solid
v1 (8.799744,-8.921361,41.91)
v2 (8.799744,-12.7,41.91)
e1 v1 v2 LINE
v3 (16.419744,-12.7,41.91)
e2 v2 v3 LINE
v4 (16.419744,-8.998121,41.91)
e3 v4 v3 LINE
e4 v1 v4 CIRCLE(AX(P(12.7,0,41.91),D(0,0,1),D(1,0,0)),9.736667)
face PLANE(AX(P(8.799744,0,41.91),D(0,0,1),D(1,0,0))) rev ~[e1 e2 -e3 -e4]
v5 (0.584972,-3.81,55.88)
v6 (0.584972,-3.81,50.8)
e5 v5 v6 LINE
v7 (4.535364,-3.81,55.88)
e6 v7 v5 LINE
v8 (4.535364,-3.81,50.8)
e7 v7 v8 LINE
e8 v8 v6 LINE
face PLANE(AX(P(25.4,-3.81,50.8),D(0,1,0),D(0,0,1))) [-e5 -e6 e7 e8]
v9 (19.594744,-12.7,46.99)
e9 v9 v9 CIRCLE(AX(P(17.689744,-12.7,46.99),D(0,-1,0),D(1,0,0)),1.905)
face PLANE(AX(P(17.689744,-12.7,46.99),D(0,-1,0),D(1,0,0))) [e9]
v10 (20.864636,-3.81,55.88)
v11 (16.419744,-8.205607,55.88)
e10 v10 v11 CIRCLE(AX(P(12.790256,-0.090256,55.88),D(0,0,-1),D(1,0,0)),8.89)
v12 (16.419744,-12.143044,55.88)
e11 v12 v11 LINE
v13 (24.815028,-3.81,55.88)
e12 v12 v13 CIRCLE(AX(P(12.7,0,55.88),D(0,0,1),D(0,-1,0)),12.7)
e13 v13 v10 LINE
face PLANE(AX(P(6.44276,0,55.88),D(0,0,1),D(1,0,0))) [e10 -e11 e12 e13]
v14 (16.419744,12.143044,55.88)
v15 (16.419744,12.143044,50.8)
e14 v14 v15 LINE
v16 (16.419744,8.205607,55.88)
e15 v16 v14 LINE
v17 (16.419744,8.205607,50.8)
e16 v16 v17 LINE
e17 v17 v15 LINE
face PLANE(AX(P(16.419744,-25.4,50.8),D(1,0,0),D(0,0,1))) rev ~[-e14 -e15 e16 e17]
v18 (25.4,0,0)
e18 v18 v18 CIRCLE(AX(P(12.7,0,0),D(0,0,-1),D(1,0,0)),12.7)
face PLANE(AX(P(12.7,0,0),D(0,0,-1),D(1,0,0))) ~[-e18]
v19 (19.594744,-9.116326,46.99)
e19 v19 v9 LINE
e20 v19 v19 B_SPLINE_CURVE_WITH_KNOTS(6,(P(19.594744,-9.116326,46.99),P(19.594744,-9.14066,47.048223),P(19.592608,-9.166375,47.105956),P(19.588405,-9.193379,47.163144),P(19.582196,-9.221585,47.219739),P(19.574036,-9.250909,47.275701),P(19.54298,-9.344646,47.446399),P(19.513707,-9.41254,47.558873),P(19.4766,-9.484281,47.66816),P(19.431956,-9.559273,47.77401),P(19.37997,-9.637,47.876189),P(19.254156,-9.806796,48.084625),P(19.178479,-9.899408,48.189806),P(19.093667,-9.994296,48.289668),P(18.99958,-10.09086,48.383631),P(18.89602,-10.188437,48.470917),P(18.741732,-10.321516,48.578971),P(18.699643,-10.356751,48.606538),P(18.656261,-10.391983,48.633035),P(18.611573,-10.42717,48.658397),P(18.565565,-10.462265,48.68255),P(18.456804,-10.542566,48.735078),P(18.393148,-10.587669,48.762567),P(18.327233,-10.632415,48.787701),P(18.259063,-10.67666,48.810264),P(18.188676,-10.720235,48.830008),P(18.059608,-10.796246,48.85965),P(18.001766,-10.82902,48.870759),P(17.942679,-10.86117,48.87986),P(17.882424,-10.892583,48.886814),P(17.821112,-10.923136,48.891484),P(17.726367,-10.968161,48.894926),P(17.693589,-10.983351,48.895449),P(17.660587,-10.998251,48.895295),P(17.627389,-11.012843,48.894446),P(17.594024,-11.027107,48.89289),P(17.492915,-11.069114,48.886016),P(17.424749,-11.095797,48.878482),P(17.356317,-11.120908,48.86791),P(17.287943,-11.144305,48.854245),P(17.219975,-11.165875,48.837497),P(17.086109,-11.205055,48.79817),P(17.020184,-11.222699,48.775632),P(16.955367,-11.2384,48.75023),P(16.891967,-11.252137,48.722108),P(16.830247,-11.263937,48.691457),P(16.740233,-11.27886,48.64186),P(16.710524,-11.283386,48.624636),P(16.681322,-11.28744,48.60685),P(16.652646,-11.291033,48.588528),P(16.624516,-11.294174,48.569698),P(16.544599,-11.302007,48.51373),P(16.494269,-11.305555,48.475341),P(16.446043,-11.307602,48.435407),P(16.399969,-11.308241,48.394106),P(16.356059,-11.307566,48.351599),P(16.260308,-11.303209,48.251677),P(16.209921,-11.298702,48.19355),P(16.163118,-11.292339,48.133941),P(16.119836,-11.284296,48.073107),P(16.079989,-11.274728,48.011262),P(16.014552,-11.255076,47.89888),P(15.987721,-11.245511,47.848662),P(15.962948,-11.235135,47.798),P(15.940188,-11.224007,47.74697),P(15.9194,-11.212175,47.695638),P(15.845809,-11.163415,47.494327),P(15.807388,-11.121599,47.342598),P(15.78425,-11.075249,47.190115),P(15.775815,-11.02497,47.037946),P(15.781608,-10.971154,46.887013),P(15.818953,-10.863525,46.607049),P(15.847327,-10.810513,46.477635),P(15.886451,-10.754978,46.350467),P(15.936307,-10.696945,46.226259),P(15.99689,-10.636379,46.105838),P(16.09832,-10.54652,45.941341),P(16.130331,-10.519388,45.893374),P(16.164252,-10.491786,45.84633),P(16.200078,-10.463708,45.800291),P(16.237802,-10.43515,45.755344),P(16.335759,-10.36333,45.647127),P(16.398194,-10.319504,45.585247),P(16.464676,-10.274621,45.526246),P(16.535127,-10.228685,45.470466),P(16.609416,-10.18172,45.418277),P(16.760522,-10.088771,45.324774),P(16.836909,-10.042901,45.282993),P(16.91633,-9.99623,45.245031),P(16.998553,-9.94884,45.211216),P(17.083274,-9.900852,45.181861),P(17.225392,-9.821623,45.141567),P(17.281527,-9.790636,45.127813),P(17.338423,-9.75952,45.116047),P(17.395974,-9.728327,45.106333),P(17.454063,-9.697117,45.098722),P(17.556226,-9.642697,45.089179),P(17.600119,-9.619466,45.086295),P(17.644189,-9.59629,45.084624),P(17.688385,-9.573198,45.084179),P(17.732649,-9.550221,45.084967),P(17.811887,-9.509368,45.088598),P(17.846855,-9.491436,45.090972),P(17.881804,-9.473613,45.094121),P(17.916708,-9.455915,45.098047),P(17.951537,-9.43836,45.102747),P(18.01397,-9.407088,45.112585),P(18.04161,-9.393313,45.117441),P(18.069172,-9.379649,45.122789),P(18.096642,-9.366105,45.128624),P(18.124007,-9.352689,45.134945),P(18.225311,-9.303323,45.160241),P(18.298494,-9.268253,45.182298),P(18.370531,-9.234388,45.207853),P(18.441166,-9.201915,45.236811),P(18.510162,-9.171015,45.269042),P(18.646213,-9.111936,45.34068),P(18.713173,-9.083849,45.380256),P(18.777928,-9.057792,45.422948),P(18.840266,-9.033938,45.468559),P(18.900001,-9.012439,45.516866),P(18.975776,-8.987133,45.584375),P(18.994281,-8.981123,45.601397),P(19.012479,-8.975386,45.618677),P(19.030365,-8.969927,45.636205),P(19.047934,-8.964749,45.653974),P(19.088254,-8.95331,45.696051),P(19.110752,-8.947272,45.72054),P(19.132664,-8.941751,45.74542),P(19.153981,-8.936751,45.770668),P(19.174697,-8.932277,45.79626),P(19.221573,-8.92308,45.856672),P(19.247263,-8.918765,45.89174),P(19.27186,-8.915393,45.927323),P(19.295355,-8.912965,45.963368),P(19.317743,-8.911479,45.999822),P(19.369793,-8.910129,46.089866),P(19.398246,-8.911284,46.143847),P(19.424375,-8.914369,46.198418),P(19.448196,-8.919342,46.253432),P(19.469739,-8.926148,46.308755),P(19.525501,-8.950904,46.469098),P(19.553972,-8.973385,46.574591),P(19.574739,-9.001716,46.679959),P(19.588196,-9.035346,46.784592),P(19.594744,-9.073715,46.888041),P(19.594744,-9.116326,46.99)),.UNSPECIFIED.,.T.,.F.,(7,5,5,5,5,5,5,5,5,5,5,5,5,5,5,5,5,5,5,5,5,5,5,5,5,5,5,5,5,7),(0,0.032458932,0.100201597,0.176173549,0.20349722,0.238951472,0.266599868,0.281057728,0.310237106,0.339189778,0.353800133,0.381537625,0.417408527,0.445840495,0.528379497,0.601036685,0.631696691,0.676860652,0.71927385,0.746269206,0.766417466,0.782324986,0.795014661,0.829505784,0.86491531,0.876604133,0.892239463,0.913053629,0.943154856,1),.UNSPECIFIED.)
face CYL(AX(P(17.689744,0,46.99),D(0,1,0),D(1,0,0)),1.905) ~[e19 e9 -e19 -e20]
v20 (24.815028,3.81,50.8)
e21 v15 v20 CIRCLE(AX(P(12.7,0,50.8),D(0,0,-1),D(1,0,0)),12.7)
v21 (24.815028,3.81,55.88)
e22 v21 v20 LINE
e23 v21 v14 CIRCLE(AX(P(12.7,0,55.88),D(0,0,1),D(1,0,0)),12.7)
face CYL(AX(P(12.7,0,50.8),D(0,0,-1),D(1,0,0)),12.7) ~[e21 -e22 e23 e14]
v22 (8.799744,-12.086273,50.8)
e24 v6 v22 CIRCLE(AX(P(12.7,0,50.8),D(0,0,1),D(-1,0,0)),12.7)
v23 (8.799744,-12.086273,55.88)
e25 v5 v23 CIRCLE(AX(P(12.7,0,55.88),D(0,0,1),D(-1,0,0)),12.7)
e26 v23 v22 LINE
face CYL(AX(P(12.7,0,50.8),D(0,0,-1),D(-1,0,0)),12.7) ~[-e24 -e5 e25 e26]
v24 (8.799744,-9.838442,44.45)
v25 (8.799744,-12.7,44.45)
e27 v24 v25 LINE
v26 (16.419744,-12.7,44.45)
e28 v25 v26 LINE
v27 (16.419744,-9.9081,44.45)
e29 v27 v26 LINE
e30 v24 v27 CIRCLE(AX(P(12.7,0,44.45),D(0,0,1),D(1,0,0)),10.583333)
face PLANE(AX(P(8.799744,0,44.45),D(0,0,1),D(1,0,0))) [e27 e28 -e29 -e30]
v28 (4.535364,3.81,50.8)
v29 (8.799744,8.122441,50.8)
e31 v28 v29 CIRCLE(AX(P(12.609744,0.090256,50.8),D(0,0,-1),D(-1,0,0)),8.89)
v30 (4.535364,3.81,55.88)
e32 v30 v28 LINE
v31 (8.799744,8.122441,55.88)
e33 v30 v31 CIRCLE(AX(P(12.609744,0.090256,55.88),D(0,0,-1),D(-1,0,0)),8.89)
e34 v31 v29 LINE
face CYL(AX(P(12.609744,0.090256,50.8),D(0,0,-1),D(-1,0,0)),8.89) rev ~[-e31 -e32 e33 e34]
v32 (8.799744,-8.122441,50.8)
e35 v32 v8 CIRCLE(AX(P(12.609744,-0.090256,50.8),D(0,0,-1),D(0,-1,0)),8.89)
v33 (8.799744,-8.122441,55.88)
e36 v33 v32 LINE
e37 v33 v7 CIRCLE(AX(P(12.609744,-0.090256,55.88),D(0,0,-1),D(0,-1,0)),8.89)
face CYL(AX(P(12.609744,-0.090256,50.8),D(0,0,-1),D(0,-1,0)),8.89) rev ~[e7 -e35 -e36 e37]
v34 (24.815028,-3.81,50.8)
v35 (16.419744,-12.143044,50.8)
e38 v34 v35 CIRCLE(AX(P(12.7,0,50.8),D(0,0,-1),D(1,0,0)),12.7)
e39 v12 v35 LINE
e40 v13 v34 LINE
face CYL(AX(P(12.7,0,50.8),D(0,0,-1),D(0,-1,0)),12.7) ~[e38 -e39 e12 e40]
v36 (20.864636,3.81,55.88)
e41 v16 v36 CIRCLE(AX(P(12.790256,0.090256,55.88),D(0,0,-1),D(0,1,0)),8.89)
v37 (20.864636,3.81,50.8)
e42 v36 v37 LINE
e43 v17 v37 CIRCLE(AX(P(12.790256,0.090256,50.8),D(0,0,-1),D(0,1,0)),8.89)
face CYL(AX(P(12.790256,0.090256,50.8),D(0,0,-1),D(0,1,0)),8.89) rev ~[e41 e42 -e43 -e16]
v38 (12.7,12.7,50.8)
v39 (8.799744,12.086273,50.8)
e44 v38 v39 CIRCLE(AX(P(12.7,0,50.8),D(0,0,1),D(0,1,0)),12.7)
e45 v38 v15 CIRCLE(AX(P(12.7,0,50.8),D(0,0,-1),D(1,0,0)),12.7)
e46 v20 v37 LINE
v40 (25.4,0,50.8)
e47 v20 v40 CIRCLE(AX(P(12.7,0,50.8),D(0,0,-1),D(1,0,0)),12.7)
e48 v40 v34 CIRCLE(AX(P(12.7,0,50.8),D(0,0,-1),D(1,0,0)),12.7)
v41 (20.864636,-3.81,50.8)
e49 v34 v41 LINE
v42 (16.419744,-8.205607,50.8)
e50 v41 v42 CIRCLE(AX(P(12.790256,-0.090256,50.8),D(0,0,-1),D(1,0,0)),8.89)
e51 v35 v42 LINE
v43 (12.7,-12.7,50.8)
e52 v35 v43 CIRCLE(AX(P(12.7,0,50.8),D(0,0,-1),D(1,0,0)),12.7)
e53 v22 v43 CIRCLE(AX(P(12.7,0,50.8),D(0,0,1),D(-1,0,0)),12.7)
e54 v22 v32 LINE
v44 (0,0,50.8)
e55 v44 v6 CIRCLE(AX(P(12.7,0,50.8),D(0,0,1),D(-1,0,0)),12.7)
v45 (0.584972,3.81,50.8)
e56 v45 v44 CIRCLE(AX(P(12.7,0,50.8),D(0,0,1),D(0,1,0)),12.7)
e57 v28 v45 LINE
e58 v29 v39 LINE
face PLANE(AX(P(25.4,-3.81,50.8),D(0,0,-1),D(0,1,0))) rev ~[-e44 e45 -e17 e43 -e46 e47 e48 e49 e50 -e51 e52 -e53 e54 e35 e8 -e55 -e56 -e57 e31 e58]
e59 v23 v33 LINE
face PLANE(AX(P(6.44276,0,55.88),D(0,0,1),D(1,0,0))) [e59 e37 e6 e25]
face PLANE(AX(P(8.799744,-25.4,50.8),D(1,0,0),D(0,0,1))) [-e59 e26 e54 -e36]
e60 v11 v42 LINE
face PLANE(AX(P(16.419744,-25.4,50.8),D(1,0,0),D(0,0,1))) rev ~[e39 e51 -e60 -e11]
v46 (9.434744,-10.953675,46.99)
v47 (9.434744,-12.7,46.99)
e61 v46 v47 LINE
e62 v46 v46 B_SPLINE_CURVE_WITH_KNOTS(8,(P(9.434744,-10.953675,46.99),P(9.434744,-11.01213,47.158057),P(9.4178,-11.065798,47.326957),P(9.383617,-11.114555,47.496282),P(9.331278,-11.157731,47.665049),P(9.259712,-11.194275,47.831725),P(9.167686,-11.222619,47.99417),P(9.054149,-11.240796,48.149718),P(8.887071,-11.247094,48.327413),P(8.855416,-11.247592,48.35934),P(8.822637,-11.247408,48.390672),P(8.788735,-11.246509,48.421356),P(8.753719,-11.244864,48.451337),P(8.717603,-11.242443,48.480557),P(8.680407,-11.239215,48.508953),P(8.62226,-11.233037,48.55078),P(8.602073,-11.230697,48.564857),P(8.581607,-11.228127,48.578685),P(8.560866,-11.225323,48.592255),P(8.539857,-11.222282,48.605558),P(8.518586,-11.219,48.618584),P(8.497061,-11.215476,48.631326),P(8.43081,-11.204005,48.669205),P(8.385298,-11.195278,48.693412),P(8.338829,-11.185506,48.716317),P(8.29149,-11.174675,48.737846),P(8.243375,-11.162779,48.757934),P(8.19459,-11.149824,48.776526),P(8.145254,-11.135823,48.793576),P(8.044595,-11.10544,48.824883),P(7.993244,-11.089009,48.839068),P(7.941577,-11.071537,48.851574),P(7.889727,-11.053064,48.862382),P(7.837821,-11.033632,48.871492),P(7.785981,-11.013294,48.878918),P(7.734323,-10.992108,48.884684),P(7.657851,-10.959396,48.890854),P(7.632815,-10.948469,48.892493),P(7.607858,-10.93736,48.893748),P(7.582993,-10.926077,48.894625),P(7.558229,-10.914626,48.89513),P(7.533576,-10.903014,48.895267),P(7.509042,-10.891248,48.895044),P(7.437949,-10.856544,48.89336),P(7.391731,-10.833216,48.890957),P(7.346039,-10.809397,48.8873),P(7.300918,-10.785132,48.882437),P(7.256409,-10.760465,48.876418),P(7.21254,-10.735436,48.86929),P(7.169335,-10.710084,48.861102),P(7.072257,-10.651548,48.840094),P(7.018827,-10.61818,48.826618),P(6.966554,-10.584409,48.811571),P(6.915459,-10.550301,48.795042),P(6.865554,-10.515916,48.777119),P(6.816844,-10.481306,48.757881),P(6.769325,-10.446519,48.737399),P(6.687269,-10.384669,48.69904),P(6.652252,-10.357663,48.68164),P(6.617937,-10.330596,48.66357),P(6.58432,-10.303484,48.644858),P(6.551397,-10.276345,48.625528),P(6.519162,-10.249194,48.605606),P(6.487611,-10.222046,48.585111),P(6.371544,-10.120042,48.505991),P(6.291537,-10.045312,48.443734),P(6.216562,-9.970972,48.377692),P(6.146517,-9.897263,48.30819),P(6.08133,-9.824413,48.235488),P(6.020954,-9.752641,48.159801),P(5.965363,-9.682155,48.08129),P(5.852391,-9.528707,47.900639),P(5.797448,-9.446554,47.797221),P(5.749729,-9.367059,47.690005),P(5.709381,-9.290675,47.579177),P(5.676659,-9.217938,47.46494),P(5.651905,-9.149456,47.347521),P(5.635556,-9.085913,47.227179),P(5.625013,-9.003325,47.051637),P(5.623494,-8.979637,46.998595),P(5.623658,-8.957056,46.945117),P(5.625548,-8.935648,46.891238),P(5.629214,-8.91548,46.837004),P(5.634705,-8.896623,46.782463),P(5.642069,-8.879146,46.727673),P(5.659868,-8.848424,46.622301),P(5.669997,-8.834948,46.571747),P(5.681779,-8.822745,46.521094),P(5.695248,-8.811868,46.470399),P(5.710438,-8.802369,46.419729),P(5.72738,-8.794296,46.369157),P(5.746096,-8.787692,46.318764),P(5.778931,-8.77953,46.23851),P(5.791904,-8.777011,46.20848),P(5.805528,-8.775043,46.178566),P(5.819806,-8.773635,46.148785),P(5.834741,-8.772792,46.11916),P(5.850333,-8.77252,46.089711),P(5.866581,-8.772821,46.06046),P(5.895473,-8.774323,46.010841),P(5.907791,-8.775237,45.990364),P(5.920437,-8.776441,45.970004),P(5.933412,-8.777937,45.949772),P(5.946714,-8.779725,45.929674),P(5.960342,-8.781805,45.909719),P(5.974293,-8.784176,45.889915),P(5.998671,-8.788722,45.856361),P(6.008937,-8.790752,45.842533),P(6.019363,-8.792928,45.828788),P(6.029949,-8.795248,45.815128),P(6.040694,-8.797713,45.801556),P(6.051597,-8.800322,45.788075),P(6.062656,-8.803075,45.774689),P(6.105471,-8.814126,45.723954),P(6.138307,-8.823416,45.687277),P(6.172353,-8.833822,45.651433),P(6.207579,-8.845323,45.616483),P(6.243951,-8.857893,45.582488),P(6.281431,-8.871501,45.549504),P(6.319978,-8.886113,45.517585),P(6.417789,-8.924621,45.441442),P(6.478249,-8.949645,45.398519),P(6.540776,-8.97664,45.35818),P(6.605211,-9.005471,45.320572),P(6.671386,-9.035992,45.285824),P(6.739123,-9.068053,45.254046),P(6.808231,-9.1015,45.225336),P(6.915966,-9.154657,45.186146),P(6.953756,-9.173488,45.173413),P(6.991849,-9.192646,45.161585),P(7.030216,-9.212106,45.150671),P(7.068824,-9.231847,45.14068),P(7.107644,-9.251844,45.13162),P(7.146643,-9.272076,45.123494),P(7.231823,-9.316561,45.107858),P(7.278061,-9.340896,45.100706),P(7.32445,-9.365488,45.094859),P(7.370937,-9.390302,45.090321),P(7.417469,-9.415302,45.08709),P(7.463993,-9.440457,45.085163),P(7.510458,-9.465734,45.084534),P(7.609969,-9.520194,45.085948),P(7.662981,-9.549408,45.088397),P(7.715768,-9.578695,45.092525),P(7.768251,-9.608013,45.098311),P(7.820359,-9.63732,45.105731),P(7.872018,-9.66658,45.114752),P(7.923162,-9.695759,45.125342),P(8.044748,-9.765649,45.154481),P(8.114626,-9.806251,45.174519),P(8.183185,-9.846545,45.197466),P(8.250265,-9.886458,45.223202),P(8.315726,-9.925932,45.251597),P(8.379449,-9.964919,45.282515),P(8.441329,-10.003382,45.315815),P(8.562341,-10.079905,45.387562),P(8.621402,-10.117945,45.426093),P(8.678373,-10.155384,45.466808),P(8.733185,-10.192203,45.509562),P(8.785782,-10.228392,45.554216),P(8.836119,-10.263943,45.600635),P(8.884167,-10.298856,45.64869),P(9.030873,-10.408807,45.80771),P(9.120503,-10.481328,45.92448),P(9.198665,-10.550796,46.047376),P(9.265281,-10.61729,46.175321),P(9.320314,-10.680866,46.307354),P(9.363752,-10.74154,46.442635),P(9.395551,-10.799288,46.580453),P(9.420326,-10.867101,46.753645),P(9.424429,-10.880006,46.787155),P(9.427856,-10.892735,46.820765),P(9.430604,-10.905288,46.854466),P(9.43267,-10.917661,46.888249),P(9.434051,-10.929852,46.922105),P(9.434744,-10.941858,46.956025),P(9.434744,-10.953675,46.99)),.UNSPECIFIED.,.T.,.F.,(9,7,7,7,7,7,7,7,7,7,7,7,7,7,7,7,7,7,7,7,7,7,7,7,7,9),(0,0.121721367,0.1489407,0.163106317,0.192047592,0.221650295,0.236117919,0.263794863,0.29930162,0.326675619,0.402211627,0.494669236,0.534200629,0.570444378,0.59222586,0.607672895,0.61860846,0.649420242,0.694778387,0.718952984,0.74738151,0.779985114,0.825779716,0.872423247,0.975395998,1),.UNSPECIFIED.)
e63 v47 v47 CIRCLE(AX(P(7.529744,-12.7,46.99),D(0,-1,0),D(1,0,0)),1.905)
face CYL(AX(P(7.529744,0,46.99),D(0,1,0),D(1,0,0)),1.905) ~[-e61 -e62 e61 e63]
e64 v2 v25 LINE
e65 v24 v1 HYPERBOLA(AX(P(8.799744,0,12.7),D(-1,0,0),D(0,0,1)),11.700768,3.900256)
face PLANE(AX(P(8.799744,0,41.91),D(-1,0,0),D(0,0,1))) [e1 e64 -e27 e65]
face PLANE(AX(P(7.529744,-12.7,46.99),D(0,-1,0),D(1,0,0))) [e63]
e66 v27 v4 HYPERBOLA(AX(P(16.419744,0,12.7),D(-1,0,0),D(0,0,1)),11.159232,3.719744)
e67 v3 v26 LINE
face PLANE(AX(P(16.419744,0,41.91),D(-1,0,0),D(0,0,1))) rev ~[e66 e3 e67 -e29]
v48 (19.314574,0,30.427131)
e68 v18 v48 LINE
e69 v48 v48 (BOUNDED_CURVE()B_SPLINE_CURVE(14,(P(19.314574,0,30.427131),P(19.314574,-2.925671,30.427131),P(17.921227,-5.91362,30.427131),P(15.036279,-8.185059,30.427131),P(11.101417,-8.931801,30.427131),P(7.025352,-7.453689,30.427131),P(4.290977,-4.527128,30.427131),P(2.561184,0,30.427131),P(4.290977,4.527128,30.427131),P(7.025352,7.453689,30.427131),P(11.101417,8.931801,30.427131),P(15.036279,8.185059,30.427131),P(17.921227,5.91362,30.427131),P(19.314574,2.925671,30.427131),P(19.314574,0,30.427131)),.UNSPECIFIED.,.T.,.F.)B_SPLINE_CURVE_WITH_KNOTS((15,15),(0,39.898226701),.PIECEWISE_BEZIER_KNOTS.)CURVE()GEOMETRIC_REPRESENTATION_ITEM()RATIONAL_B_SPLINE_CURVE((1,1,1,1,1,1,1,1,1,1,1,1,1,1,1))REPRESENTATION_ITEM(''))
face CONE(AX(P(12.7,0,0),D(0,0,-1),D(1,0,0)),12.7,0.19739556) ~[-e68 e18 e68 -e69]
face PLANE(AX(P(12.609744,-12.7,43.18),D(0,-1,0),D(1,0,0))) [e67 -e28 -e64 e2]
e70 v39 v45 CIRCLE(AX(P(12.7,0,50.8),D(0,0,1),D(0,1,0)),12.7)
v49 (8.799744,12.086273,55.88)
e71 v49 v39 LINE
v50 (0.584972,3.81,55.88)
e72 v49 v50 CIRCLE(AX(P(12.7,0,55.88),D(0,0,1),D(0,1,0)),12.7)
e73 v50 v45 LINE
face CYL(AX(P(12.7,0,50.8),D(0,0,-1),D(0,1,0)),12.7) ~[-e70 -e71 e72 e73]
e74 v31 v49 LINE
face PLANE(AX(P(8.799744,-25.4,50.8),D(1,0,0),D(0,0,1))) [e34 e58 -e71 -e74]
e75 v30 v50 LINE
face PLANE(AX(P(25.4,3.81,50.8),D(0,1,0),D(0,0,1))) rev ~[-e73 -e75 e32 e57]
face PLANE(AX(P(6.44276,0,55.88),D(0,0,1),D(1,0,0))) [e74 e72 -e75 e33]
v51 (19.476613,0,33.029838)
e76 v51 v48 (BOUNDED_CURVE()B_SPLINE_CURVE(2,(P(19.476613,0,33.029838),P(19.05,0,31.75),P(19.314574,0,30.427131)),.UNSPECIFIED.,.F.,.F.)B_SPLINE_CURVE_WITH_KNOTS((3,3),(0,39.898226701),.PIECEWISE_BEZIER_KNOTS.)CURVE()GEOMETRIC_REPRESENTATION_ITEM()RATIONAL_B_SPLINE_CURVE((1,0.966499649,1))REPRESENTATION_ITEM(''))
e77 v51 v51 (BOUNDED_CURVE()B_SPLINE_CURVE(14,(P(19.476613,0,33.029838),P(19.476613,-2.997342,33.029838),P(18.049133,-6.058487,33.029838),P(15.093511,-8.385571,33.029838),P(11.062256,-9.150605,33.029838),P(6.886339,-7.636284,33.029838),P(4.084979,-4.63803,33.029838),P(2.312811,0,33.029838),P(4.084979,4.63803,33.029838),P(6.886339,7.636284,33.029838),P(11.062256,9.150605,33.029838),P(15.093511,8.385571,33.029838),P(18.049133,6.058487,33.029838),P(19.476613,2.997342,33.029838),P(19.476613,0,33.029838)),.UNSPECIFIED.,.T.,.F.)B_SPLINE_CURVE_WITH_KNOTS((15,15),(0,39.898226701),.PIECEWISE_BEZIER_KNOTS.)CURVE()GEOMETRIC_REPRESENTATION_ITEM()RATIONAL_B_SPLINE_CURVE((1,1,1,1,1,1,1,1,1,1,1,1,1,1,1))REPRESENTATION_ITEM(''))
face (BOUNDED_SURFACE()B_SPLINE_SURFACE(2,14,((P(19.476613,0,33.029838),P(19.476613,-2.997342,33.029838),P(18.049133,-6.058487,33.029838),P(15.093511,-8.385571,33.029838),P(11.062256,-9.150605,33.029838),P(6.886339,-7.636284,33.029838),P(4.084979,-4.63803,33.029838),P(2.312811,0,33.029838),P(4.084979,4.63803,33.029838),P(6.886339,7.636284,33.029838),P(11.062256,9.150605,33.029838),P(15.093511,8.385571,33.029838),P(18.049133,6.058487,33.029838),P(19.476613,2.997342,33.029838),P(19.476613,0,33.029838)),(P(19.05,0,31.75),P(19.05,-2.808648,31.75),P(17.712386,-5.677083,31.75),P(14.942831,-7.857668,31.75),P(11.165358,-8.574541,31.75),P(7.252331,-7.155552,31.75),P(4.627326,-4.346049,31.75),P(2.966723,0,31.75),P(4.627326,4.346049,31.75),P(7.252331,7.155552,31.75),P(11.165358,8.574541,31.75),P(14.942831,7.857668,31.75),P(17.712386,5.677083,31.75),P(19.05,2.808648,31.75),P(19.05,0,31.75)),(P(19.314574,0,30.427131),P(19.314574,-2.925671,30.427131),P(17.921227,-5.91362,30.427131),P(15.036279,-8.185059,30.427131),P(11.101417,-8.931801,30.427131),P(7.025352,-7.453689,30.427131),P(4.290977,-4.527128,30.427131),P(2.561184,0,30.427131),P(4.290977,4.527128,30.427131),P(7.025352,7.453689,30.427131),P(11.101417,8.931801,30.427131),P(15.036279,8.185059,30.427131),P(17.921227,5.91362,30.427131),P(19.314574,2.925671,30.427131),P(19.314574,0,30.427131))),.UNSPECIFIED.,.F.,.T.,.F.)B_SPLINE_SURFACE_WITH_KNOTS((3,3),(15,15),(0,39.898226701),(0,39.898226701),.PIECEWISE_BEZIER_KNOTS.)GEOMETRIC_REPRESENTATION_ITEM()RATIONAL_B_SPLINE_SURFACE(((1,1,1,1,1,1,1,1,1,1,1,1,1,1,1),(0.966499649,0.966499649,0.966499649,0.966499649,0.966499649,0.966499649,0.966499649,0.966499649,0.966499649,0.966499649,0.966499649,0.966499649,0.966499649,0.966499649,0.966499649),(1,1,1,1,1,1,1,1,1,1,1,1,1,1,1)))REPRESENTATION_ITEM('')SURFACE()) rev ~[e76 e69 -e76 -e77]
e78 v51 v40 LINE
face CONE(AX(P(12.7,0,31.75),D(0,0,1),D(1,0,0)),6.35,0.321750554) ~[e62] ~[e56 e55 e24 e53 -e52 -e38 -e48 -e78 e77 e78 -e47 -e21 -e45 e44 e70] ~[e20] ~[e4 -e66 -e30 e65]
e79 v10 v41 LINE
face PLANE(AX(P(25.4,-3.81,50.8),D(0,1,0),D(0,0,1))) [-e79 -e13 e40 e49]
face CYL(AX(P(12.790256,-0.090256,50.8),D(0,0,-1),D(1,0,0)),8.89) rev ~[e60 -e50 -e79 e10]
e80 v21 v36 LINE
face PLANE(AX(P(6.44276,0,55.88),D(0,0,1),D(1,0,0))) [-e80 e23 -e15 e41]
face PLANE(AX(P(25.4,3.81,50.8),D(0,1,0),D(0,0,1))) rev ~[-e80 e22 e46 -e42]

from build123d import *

# Parameters (mm, degrees)
F3_DEPTH  = 5.08
F5_W      = 7.62
F5_H      = 5.08
F6_DEPTH  = 38.101
F8_W      = 7.62
F8_H      = 5.08
F9_DEPTH  = 25.401
F10_R     = 1.905
F10_W     = 7.62
F10_H     = 2.54
F11_DEPTH = 12.7
F12_R     = 5.08


with BuildPart() as f1:
    # F0 (on Front) → F1 (revolve)
    with BuildSketch(Plane.XZ):
        Polygon((12.7, 50.8), (12.7, 0), (25.4, 0), (19.05, 31.75), (25.4, 50.8), align=None)
    revolve(axis=Axis((12.7, 0, 25.4), (0, 0, -1)))

    # F2 (on face) → F3 (join)
    with BuildSketch(Plane.XY.offset(50.8)):
        with BuildLine():
            ThreePointArc((0, 0), (3.7197438789, -8.9802561211), (12.7, -12.7))
            Line((12.7, -12.7), (12.7, -8.9802561211))
            Line((12.7, -8.9802561211), (12.6097438789, -8.9802561211))
            ThreePointArc((12.6097438789, -8.9802561211), (6.3235645942, -6.3764354058), (3.7197438789, -0.0902561211))
            Line((3.7197438789, -0.0902561211), (3.7197438789, 0.0902561211))
            ThreePointArc((3.7197438789, 0.0902561211), (6.3235645942, 6.3764354058), (12.6097438789, 8.9802561211))
            Line((12.6097438789, 8.9802561211), (12.7, 8.9802561211))
            Line((12.7, 8.9802561211), (12.7, 12.7))
            ThreePointArc((12.7, 12.7), (3.7197438789, 8.9802561211), (0, 0))
        make_face()
        with BuildLine():
            Line((12.7, -8.9802561211), (12.7, -12.7))
            ThreePointArc((12.7, -12.7), (21.6802561211, -8.9802561211), (25.4, 0))
            ThreePointArc((25.4, 0), (21.6802561211, 8.9802561211), (12.7, 12.7))
            Line((12.7, 12.7), (12.7, 8.9802561211))
            Line((12.7, 8.9802561211), (12.7902561211, 8.9802561211))
            ThreePointArc((12.7902561211, 8.9802561211), (19.0764354058, 6.3764354058), (21.6802561211, 0.0902561211))
            Line((21.6802561211, 0.0902561211), (21.6802561211, -0.0902561211))
            ThreePointArc((21.6802561211, -0.0902561211), (19.0764354058, -6.3764354058), (12.7902561211, -8.9802561211))
            Line((12.7902561211, -8.9802561211), (12.7, -8.9802561211))
        make_face()
    extrude(amount=F3_DEPTH)

    # F5 (on offset) → F6 (cut, through all)
    with BuildSketch(Plane.XZ.offset(25.4)):
        with Locations((12.6097438789, 53.34)):
            Rectangle(F5_W, F5_H)
    extrude(amount=-F6_DEPTH, mode=Mode.SUBTRACT)

    # F8 (on offset) → F9 (cut, through all)
    with BuildSketch(Plane.YZ.offset(25.4)):
        with Locations((0, 53.34)):
            Rectangle(F8_W, F8_H)
    extrude(amount=-F9_DEPTH, mode=Mode.SUBTRACT)

    # F10 (on Front) → F11 (join)
    with BuildSketch(Plane.XZ):
        with Locations((7.5297438789, 46.99)):
            Circle(F10_R)
        with Locations((17.6897438789, 46.99)):
            Circle(F10_R)
        with Locations((12.6097438789, 43.18)):
            Rectangle(F10_W, F10_H)
    extrude(amount=F11_DEPTH)

    # F12
    f12_edges = [f1.edges().sort_by_distance(p)[0] for p in [
        (6.35, 0, 31.75),
    ]]
    fillet(f12_edges, radius=F12_R)


solid = f1.part
